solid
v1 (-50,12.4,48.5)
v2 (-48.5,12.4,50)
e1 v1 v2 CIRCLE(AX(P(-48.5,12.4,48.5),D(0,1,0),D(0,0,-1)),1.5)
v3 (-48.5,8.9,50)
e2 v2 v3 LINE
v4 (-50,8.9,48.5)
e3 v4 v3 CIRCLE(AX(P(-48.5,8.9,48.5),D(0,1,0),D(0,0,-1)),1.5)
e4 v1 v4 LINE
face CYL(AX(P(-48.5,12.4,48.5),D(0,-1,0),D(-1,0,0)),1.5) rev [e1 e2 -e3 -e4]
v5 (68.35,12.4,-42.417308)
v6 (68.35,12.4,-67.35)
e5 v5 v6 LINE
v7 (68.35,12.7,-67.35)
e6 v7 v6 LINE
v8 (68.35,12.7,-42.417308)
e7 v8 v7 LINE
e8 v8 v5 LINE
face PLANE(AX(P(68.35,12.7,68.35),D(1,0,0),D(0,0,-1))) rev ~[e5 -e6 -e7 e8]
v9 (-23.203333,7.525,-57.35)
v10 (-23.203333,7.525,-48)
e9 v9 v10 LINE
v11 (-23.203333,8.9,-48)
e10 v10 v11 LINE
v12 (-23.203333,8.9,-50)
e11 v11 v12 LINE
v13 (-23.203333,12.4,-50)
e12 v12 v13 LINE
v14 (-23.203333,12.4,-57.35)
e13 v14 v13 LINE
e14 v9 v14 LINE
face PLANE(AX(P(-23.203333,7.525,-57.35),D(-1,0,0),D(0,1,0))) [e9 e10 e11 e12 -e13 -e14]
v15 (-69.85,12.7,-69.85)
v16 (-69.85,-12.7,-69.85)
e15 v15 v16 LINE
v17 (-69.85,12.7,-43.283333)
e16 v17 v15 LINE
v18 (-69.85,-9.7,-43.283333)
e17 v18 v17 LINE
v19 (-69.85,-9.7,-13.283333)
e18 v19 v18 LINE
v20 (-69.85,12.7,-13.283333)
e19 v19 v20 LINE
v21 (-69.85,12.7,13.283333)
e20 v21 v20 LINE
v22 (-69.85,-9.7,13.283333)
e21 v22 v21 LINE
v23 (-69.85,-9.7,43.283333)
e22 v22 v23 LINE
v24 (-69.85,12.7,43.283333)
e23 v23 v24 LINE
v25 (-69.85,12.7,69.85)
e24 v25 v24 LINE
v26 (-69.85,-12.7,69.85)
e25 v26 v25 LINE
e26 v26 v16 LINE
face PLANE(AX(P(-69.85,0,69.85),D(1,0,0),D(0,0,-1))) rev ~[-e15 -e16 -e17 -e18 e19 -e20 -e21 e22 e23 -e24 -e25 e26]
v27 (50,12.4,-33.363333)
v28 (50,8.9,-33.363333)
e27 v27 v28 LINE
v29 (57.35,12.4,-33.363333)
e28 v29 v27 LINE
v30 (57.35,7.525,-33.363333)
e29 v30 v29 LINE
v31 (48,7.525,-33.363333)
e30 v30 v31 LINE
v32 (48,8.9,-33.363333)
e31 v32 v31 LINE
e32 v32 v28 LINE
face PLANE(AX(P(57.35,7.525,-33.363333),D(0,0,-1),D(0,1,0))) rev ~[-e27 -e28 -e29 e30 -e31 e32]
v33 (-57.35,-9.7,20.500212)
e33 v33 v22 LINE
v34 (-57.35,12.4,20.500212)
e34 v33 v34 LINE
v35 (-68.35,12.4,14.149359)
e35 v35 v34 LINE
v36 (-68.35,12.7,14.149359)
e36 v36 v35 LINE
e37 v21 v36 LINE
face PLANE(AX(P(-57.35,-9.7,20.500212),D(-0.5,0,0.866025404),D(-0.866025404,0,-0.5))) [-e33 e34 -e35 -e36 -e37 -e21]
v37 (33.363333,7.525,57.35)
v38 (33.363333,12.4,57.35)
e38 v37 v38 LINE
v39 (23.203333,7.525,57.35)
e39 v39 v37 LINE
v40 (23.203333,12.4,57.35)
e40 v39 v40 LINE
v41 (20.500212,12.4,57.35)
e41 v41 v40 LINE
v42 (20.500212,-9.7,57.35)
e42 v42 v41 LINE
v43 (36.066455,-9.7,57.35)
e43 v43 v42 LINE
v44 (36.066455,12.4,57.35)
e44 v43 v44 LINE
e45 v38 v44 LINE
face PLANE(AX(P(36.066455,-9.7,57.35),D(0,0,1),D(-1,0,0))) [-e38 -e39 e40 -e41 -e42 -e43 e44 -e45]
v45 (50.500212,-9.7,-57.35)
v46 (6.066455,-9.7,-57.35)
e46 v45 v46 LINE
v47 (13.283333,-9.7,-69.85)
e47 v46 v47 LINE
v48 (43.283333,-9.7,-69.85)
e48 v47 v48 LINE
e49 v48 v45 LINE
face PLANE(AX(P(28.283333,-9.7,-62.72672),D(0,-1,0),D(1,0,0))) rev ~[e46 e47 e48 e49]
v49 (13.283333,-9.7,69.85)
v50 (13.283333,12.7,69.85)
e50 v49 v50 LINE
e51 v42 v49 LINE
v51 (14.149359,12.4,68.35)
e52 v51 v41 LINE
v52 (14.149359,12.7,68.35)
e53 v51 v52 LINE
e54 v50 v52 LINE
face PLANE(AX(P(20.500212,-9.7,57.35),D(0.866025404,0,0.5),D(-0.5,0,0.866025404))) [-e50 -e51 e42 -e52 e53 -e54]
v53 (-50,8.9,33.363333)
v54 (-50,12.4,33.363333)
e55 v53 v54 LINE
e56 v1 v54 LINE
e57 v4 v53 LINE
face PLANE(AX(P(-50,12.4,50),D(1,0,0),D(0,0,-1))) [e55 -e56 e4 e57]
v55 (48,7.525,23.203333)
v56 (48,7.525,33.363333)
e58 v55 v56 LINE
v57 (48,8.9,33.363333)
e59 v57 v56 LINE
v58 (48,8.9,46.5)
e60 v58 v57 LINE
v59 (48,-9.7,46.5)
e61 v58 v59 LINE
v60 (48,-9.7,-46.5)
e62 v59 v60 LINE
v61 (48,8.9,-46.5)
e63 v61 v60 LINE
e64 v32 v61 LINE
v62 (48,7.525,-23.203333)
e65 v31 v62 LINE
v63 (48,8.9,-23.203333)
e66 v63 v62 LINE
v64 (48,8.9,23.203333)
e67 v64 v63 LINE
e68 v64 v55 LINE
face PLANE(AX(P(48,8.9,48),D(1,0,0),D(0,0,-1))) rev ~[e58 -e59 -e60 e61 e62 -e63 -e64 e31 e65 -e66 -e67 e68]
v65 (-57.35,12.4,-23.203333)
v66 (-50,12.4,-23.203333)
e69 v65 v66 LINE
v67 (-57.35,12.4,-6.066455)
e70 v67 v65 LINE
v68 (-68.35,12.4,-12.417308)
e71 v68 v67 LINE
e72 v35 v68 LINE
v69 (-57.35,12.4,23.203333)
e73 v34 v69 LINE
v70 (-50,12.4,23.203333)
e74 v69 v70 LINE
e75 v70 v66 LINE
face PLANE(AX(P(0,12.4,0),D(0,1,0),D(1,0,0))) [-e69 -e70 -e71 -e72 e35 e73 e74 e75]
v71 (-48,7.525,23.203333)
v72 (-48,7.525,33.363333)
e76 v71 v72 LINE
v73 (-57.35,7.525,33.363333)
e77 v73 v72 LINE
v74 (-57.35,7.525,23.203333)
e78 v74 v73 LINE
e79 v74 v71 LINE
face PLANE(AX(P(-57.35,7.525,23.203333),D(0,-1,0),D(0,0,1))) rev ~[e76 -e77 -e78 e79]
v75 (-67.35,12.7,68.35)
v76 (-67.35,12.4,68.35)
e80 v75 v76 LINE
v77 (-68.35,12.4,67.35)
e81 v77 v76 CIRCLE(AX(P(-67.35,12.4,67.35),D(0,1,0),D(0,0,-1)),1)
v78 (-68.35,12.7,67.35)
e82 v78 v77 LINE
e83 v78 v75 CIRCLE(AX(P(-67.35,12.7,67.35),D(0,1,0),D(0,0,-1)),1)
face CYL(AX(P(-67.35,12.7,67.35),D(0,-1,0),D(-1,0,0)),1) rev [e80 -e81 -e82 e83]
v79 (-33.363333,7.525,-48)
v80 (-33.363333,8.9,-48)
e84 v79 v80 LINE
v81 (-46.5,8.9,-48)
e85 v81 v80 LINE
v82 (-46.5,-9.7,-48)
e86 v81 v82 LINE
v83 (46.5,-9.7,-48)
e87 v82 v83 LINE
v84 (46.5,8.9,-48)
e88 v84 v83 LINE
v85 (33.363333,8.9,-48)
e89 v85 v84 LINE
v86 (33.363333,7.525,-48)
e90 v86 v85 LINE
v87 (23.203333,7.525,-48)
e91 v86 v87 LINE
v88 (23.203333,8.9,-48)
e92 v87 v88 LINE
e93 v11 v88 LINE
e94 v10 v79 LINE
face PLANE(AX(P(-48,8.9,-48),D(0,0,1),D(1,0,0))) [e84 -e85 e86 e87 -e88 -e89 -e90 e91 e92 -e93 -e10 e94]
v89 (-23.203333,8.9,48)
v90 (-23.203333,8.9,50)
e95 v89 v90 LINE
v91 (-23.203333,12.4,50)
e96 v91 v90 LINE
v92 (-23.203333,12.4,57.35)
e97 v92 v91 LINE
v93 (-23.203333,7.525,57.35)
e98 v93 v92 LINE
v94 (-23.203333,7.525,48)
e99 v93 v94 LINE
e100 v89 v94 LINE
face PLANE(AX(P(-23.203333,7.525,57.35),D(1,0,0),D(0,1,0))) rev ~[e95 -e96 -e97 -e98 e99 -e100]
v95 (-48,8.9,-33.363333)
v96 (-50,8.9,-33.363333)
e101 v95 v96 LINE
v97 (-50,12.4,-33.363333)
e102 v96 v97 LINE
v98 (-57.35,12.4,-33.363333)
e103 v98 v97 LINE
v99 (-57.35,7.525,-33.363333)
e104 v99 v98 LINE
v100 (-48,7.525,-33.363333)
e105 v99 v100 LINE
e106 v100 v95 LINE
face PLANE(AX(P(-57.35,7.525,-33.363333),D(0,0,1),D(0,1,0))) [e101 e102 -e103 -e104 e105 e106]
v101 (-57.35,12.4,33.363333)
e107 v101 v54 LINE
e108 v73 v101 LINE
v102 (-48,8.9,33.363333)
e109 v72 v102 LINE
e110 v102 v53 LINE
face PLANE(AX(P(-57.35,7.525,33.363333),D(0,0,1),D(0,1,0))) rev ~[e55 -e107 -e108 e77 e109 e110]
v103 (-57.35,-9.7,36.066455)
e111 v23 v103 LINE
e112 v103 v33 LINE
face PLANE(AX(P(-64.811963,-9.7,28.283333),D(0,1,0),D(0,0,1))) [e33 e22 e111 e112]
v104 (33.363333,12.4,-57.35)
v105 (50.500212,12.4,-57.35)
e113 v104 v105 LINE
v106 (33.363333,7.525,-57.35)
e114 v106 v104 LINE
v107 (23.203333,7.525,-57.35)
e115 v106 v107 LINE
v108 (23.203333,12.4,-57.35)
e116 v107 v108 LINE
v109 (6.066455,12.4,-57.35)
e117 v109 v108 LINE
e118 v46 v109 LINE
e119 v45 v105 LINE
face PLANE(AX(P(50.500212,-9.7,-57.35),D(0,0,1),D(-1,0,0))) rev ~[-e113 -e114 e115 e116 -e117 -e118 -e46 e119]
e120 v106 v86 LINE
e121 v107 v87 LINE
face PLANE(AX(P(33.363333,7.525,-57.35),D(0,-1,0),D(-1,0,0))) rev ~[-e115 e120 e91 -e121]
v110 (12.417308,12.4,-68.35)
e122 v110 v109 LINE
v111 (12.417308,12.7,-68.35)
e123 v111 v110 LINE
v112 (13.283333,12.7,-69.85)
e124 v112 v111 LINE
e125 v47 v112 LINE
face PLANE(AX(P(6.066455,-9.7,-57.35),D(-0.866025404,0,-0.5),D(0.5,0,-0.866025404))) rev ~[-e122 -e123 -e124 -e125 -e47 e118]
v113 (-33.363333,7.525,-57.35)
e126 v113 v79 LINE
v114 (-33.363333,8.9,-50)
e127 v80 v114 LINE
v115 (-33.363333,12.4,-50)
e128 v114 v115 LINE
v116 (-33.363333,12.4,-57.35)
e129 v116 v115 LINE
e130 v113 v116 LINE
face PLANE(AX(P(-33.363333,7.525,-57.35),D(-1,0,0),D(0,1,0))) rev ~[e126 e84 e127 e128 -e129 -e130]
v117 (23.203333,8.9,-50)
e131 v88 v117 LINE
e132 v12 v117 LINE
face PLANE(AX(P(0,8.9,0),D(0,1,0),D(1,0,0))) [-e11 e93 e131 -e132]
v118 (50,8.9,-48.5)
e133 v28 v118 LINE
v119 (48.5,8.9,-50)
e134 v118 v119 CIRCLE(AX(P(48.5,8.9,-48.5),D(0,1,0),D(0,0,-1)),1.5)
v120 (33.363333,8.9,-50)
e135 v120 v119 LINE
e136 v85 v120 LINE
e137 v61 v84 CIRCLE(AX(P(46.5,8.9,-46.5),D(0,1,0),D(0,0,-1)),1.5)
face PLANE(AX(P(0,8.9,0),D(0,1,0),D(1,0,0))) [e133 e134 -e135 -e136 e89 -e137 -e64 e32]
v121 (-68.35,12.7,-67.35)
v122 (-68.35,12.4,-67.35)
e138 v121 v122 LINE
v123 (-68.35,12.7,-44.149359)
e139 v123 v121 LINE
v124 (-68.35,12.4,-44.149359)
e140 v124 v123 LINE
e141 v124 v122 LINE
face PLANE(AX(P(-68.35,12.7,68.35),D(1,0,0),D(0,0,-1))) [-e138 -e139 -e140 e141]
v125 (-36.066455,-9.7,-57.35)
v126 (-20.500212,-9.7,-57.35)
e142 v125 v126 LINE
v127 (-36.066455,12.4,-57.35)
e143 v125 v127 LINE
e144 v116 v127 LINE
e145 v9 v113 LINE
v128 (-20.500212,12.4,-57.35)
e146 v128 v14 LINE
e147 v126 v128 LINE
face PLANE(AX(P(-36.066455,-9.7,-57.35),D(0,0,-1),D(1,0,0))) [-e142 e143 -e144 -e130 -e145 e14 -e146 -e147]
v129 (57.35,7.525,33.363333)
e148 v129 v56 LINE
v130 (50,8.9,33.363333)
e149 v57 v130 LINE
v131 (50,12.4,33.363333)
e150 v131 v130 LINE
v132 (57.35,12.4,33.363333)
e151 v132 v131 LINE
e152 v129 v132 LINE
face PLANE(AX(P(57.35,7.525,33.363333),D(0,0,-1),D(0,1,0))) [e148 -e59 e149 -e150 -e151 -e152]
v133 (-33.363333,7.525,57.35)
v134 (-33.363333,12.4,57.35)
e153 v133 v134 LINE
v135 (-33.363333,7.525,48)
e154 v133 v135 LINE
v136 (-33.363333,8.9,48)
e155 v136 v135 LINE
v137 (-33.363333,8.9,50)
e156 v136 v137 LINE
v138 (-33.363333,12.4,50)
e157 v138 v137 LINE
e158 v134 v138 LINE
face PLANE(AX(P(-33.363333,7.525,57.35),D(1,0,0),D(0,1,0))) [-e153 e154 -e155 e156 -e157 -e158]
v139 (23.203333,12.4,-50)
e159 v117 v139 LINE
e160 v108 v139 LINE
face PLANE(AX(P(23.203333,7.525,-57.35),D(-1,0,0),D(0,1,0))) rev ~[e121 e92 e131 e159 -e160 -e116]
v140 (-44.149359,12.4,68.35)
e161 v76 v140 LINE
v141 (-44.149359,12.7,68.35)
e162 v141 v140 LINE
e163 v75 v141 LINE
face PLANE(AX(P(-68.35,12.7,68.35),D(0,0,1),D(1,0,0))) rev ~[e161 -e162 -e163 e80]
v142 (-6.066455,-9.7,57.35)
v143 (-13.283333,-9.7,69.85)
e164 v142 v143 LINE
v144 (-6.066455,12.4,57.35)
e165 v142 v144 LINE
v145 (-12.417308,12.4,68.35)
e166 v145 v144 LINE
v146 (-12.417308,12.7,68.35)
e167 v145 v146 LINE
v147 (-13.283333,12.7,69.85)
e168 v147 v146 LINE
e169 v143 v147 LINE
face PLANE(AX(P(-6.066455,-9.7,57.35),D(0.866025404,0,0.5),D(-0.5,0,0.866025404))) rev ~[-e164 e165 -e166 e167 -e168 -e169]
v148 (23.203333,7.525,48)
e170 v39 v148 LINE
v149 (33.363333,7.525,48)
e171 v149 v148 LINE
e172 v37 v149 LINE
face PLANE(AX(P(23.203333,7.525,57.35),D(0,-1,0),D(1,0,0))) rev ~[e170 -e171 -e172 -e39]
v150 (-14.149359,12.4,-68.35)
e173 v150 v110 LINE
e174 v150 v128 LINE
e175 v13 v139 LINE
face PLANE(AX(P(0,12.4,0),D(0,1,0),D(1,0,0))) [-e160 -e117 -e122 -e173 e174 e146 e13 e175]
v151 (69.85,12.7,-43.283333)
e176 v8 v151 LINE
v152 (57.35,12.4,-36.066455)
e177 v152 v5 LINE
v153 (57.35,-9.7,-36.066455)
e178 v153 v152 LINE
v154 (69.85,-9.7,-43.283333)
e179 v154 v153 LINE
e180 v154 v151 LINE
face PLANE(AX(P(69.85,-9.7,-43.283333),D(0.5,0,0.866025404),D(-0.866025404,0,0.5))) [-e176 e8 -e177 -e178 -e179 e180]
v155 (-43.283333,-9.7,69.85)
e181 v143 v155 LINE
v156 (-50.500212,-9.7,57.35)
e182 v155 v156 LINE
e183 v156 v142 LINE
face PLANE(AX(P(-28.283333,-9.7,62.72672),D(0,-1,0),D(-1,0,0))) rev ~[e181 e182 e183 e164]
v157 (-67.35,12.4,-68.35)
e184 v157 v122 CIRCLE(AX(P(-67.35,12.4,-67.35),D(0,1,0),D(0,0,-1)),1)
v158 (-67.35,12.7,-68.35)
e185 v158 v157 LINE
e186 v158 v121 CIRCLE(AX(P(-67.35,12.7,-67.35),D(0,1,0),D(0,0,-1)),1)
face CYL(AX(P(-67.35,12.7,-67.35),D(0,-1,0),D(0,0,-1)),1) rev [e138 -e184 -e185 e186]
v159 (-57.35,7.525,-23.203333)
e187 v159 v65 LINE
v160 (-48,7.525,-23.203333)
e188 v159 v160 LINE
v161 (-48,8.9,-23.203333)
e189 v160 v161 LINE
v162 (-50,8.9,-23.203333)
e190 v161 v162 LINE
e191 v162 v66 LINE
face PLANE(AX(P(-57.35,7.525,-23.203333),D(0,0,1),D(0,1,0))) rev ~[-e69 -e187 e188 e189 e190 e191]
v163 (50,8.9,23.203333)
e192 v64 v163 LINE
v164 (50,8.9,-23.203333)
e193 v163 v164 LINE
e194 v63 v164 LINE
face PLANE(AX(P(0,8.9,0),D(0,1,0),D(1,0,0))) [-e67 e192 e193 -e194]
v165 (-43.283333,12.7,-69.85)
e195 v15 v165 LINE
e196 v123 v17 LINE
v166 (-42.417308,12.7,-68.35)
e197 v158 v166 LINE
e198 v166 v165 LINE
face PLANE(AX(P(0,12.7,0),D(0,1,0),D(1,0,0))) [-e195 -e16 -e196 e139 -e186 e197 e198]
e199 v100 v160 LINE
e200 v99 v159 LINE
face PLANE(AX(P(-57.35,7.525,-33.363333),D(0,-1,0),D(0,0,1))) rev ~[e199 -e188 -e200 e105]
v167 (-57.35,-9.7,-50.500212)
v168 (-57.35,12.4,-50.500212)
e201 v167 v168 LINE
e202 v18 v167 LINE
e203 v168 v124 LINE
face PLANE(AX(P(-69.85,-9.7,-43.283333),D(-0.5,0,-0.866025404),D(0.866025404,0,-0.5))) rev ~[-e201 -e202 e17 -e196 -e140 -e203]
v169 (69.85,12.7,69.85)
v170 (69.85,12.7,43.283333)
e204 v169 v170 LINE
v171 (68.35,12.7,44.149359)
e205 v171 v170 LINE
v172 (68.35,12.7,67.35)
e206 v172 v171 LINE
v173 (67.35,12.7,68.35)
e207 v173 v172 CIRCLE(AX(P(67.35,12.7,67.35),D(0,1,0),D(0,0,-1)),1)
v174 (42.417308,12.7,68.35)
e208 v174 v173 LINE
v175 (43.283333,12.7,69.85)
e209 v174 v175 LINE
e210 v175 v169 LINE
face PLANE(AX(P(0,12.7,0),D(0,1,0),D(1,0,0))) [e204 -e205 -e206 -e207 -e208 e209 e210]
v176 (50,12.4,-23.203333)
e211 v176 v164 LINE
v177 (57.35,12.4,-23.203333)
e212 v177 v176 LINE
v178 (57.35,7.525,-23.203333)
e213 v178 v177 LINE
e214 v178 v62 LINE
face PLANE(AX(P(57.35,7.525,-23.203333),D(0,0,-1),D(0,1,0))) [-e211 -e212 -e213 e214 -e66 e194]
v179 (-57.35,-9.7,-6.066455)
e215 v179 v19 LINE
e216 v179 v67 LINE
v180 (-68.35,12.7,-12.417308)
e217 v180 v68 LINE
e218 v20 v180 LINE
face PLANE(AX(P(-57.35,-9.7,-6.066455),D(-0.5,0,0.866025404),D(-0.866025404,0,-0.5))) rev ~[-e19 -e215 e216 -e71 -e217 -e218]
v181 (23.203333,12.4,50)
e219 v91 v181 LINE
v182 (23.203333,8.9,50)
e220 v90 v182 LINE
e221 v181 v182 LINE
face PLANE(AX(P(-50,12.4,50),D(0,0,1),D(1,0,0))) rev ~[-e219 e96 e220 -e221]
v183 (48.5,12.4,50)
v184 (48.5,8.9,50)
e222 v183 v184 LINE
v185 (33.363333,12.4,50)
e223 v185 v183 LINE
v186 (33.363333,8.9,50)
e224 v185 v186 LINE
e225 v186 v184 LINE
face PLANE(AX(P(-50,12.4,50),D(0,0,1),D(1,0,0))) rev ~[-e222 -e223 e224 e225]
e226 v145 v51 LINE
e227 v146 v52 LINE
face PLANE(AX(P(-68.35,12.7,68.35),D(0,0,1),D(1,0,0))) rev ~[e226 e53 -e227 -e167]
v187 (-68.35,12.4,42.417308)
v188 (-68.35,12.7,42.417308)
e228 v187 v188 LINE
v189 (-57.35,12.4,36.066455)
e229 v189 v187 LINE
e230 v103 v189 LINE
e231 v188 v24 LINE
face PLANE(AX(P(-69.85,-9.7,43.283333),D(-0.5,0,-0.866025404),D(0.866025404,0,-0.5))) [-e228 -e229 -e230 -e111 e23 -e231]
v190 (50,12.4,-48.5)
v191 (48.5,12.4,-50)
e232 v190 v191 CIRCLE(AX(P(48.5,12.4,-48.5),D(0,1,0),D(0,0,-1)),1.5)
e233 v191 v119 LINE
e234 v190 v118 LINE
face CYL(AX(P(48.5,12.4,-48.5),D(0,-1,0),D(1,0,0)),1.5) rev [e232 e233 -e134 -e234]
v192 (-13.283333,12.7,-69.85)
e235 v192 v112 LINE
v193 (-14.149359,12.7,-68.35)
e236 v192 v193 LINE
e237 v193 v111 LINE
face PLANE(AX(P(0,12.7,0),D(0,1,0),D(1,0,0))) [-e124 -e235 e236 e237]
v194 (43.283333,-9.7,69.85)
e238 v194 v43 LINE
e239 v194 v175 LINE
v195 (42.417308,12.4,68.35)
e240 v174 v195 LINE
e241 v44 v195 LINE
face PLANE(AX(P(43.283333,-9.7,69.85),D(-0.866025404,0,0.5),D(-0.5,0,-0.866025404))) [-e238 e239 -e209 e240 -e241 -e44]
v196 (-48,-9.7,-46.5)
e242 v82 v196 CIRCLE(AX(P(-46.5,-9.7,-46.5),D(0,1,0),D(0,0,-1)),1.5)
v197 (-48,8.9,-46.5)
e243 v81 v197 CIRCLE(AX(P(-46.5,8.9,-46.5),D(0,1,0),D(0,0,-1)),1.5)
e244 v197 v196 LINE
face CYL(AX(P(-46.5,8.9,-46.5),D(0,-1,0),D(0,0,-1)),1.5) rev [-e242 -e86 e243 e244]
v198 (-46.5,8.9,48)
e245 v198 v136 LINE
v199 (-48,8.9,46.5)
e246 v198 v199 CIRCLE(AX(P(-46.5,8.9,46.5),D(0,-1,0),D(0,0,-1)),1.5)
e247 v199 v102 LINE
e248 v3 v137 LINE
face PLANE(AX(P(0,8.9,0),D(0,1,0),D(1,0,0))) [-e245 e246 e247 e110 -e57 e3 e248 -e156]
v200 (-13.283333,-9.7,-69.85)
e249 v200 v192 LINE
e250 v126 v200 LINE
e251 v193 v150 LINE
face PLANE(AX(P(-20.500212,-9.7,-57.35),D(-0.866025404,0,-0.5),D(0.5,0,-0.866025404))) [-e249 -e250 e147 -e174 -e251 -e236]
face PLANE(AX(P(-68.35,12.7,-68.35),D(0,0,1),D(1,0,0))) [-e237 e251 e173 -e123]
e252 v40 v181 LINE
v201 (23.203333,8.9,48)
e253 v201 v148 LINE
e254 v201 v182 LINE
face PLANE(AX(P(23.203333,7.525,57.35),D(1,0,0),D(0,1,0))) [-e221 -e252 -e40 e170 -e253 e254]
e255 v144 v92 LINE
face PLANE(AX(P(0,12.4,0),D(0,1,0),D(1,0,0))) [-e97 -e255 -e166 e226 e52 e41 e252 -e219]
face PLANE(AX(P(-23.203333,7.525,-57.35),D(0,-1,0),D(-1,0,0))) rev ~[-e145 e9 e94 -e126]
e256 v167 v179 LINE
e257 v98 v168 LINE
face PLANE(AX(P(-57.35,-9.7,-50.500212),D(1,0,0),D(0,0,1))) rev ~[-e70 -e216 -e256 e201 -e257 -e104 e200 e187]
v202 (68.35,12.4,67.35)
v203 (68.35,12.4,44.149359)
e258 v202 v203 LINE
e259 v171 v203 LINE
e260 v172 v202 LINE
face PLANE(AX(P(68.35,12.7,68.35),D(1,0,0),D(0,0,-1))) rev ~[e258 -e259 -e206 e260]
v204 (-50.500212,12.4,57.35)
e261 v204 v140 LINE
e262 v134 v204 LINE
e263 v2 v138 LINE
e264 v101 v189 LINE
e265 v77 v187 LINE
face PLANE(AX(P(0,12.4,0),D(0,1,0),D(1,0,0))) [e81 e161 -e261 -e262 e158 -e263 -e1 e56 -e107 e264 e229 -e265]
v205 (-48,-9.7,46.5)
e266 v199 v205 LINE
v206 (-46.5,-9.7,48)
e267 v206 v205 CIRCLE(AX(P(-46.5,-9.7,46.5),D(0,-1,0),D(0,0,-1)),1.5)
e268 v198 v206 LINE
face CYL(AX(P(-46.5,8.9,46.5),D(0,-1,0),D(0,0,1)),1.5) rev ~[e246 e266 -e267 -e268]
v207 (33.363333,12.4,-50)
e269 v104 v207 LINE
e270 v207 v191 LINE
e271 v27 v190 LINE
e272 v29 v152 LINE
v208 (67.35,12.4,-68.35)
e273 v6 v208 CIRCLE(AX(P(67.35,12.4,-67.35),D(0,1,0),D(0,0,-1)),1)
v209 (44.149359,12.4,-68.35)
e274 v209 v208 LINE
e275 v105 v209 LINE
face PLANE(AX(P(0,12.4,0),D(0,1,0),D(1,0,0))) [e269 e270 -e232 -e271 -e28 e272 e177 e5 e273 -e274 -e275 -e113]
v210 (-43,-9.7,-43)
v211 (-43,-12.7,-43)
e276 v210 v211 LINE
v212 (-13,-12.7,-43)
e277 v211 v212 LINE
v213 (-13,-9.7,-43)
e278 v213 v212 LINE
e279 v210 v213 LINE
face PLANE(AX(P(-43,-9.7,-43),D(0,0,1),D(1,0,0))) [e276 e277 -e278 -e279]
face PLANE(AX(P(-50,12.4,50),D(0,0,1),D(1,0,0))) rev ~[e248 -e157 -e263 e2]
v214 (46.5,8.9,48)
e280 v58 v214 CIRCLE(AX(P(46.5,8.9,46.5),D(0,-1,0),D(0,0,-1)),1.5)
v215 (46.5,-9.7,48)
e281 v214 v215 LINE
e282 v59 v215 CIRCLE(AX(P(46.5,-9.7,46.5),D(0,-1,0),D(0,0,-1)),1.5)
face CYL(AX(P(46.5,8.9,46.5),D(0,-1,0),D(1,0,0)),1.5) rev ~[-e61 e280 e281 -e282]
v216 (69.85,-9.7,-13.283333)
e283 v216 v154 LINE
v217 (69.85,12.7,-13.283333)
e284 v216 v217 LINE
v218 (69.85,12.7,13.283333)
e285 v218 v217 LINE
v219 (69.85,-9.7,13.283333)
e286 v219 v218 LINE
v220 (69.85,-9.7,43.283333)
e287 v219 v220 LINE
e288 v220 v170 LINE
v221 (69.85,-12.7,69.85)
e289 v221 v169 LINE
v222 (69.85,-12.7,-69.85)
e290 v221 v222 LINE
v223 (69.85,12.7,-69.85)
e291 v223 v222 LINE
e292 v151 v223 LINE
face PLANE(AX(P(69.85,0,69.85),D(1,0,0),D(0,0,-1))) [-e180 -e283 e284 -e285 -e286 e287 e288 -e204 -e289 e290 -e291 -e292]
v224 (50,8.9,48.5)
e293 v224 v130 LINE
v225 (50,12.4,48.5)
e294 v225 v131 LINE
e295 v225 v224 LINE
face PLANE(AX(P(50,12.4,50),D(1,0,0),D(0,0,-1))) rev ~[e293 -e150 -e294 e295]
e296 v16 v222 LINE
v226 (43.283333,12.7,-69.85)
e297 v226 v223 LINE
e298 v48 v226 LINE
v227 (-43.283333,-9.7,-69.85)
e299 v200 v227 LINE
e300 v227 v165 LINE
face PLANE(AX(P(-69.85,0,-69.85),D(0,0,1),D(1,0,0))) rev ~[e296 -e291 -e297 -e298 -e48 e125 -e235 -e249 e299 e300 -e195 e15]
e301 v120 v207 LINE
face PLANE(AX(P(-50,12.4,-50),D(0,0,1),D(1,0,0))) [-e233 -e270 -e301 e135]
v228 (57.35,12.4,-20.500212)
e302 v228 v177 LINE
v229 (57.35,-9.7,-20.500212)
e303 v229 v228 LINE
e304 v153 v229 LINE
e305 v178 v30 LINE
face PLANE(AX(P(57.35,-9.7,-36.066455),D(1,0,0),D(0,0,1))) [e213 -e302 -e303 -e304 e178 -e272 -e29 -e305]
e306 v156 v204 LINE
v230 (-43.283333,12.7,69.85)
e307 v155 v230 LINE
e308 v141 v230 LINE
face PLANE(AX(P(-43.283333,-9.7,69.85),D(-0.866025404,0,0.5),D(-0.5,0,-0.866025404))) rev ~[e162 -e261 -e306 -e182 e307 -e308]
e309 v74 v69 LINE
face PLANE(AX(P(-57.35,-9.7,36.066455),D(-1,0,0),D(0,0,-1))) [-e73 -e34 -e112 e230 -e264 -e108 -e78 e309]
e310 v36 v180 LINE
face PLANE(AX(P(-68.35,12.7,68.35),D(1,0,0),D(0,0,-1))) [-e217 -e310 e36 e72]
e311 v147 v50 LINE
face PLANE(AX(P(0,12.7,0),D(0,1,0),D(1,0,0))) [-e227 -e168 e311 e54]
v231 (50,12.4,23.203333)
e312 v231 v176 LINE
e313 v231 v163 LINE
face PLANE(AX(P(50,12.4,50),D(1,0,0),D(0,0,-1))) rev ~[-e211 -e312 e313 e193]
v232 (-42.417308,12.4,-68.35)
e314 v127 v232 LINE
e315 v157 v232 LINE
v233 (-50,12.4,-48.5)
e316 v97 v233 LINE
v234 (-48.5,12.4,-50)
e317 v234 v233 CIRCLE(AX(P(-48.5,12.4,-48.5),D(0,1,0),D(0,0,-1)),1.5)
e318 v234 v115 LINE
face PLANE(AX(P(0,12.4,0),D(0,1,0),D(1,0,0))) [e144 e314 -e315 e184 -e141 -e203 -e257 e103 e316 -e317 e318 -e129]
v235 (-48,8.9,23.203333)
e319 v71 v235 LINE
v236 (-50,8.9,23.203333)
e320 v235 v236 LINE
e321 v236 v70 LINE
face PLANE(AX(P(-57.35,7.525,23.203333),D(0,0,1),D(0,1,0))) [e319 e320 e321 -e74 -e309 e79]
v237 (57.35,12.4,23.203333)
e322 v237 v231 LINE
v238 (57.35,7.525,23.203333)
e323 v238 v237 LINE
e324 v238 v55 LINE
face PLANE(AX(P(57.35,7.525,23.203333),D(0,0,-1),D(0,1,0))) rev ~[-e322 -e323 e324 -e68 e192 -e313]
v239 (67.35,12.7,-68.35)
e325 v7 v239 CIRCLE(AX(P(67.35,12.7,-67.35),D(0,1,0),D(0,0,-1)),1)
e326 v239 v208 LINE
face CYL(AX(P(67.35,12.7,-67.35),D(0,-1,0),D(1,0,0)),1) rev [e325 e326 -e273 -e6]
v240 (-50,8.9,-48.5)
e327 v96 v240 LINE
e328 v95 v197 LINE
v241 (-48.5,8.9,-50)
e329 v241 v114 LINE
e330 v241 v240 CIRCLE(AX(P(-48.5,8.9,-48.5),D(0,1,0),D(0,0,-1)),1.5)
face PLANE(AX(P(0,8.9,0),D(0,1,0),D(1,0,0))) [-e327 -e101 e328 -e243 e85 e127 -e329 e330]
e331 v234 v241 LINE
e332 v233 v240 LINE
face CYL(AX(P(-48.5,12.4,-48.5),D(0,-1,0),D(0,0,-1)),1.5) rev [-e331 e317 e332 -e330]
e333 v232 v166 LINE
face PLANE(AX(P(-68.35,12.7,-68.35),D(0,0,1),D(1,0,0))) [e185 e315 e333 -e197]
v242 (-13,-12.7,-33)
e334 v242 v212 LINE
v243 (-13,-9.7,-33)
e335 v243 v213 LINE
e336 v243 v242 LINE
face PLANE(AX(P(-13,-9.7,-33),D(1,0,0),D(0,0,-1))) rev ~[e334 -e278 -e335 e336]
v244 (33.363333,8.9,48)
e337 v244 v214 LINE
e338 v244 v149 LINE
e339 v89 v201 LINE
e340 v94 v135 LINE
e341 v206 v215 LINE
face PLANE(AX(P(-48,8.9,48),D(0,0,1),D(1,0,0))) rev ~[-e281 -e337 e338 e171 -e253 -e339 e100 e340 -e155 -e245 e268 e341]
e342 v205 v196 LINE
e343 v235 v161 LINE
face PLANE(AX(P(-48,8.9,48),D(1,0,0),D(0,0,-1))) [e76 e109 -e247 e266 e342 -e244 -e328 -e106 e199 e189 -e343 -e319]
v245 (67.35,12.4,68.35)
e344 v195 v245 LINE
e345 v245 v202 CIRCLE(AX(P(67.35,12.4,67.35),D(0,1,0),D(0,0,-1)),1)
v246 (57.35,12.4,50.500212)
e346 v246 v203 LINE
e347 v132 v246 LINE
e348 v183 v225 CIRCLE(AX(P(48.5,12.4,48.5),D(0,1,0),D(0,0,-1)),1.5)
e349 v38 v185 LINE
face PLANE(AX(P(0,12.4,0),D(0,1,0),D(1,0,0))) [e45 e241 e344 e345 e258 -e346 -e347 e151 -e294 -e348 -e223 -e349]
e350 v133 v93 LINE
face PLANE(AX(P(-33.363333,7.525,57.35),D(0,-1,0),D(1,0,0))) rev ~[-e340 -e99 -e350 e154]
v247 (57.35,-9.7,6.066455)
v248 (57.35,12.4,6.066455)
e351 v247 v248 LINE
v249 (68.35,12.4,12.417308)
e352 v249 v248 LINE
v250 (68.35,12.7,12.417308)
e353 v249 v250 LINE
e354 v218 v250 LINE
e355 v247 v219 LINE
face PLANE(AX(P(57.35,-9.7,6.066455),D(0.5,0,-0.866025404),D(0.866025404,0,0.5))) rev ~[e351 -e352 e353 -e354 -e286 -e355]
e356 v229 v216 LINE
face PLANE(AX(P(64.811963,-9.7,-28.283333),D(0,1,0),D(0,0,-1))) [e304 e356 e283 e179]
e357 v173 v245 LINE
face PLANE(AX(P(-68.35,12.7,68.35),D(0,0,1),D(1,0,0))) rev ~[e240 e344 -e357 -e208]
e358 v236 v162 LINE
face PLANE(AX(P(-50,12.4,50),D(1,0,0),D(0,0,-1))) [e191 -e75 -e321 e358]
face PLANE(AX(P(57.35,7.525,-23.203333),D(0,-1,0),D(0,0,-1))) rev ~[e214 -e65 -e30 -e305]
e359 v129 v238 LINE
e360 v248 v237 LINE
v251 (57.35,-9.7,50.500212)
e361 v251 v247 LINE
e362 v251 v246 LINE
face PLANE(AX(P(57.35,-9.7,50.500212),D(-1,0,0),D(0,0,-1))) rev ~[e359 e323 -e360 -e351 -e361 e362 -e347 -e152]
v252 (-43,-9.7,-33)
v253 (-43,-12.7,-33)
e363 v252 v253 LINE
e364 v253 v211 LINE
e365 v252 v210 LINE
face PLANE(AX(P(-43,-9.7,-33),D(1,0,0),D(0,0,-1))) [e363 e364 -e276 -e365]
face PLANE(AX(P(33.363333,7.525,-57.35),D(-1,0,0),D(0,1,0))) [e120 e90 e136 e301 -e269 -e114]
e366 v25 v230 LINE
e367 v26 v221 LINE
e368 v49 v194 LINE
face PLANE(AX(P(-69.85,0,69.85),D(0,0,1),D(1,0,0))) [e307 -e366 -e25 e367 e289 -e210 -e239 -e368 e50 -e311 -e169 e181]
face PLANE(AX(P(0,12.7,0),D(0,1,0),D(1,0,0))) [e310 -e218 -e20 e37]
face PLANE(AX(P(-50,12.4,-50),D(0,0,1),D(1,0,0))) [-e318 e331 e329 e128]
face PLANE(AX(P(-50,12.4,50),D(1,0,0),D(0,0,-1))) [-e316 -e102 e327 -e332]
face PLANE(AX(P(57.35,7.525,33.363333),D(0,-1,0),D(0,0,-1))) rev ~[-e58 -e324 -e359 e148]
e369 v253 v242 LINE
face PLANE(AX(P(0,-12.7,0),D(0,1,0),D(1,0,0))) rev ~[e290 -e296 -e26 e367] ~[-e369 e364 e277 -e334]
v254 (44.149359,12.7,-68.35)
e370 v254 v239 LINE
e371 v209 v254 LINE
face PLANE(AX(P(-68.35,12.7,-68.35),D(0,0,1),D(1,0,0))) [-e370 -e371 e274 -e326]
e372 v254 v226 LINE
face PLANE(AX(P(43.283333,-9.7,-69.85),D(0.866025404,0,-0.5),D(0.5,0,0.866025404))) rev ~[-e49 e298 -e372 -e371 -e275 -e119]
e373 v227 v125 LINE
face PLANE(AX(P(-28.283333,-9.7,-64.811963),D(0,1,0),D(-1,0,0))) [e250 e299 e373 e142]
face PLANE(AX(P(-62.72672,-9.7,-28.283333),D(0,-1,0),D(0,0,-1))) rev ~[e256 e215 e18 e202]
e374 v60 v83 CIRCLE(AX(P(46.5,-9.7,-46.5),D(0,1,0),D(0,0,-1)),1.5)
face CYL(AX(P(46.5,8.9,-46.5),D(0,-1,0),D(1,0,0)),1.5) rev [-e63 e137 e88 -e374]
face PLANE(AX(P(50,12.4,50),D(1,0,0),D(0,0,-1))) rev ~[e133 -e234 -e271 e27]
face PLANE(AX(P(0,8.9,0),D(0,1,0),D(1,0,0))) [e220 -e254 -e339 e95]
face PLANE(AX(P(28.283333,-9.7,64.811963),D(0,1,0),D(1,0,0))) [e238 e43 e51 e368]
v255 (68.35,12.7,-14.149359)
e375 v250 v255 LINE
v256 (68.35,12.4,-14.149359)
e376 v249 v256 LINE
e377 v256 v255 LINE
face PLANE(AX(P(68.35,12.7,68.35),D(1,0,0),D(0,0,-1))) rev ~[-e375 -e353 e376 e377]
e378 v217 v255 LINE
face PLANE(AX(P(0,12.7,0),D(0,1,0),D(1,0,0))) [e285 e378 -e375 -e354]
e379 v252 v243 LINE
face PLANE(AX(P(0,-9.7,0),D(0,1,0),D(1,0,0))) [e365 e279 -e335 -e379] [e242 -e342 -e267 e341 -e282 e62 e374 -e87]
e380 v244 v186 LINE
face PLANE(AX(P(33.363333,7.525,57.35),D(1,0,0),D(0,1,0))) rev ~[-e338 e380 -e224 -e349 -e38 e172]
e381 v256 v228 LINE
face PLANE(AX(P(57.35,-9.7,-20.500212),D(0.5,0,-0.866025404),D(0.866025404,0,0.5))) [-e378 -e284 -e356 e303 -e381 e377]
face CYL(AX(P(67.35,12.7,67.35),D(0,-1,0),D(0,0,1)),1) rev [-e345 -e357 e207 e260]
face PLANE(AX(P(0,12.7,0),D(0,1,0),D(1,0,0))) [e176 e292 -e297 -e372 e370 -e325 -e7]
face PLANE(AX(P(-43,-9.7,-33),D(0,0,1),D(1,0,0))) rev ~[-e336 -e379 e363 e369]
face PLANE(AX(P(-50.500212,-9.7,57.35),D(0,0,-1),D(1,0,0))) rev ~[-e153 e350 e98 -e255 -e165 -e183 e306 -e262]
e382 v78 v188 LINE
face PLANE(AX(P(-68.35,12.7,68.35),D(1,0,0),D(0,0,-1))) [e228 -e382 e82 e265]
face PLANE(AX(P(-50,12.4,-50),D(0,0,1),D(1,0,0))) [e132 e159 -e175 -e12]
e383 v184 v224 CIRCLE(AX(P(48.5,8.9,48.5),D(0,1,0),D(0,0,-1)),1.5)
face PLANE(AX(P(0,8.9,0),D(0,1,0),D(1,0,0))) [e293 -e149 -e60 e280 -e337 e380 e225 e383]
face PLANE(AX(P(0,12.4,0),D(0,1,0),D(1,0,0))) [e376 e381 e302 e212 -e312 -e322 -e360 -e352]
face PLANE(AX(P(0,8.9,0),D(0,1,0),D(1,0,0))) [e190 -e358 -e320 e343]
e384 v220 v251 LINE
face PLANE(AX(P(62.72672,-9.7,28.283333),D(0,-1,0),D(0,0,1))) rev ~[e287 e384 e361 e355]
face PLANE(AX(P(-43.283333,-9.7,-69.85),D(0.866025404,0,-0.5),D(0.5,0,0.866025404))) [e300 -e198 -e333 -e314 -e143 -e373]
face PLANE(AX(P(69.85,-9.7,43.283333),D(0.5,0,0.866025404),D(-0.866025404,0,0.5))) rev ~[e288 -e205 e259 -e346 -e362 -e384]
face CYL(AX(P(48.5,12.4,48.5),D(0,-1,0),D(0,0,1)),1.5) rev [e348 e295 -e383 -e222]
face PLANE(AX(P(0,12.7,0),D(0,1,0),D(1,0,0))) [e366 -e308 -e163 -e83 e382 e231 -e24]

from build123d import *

# Parameters (mm, degrees)
SKETCH1_W           = 139.7
SKETCH1_H           = 139.7
BOSS_EXTRUDE1_DEPTH = 12.7
SKETCH2_W           = 136.7
SKETCH2_H           = 136.7
CUT_EXTRUDE1_DEPTH  = 0.3
CUT_EXTRUDE2_START  = -22.4
CUT_EXTRUDE2_DEPTH  = 125.396102867
SKETCH18_W          = 10.16
SKETCH18_H          = 4.875
CUT_EXTRUDE6_DEPTH  = 20
FILLET1_R           = 1
CIRPATTERN1_COUNT   = 4
SKETCH19_W          = 100
SKETCH19_H          = 100
CUT_EXTRUDE8_DEPTH  = 3.5
SKETCH20_W          = 96
SKETCH20_H          = 96
CUT_EXTRUDE9_DEPTH  = 18.6
SKETCH21_W          = 30
SKETCH21_H          = 10
CUT_EXTRUDE10_DEPTH = 102.290695525
FILLET2_R           = 1.5


with BuildPart() as part:
    # Sketch1 → Boss-Extrude1 (new, symmetric)
    with BuildSketch(Plane(origin=(0, 0, 0), x_dir=(1, 0, 0), z_dir=(0, 1, 0))):
        Rectangle(SKETCH1_W, SKETCH1_H)
    extrude(amount=BOSS_EXTRUDE1_DEPTH, both=True)

    # Sketch2 → Cut-Extrude1 (cut)
    with BuildSketch(Plane(origin=(0, 12.7, 0), x_dir=(1, 0, 0), z_dir=(0, 1, 0))):
        Rectangle(SKETCH2_W, SKETCH2_H)
    extrude(amount=-CUT_EXTRUDE1_DEPTH, mode=Mode.SUBTRACT)

    # Sketch4 → Cut-Extrude2 (cut)
    with BuildSketch(Plane(origin=(0, 12.7, 0), x_dir=(1, 0, 0), z_dir=(0, 1, 0)).offset(CUT_EXTRUDE2_START)):
        Polygon((-43.283333333, -69.85), (-50.500211698, -57.35), (-6.066454968, -57.35), (-13.283333333, -69.85), align=None)
        Polygon((43.283333333, -69.85), (36.066454968, -57.35), (20.500211698, -57.35), (13.283333333, -69.85), align=None)
    cut_extrude2 = extrude(amount=CUT_EXTRUDE2_DEPTH, mode=Mode.SUBTRACT)

    # Sketch18 → Cut-Extrude6 (cut)
    with BuildSketch(Plane.XY.offset(57.35)):
        with Locations((28.283333333, 9.9625)):
            Rectangle(SKETCH18_W, SKETCH18_H)
        with Locations((-28.283333333, 9.9625)):
            Rectangle(SKETCH18_W, SKETCH18_H)
    cut_extrude6 = extrude(amount=-CUT_EXTRUDE6_DEPTH, mode=Mode.SUBTRACT)

    # Fillet1
    fillet1_edges = [part.edges().sort_by_distance(p)[0] for p in [
        (-68.35, 12.55, -68.35),
        (-68.35, 12.55, 68.35),
        (68.35, 12.55, 68.35),
        (68.35, 12.55, -68.35),
    ]]
    fillet(fillet1_edges, radius=FILLET1_R)

    # CirPattern1: Cut-Extrude2, Cut-Extrude6 ×4 about axis
    cirpattern1_axis = Axis((0, 0, 0), (0, 1, 0))
    add([cut_extrude2.rotate(cirpattern1_axis, i * 360 / CIRPATTERN1_COUNT) for i in range(1, CIRPATTERN1_COUNT)], mode=Mode.SUBTRACT)
    add([cut_extrude6.rotate(cirpattern1_axis, i * 360 / CIRPATTERN1_COUNT) for i in range(1, CIRPATTERN1_COUNT)], mode=Mode.SUBTRACT)

    # Sketch19 → Cut-Extrude8 (cut)
    with BuildSketch(Plane(origin=(0, 12.4, 0), x_dir=(1, 0, 0), z_dir=(0, 1, 0))):
        Rectangle(SKETCH19_W, SKETCH19_H)
    extrude(amount=-CUT_EXTRUDE8_DEPTH, mode=Mode.SUBTRACT)

    # Sketch20 → Cut-Extrude9 (cut)
    with BuildSketch(Plane(origin=(0, 8.9, 0), x_dir=(1, 0, 0), z_dir=(0, 1, 0))):
        Rectangle(SKETCH20_W, SKETCH20_H)
    extrude(amount=-CUT_EXTRUDE9_DEPTH, mode=Mode.SUBTRACT)

    # Sketch21 → Cut-Extrude10 (cut, through all)
    with BuildSketch(Plane(origin=(0, -9.7, 0), x_dir=(1, 0, 0), z_dir=(0, 1, 0))):
        with Locations((-28, 38)):
            Rectangle(SKETCH21_W, SKETCH21_H)
    extrude(amount=-CUT_EXTRUDE10_DEPTH, mode=Mode.SUBTRACT)

    # Fillet2
    fillet2_edges = [part.edges().sort_by_distance(p)[0] for p in [
        (50, 10.65, 50),
        (-50, 10.65, -50),
        (-50, 10.65, 50),
        (50, 10.65, -50),
        (48, -0.4, -48),
        (48, -0.4, 48),
        (-48, -0.4, 48),
        (-48, -0.4, -48),
    ]]
    fillet(fillet2_edges, radius=FILLET2_R)


solid = part.part
